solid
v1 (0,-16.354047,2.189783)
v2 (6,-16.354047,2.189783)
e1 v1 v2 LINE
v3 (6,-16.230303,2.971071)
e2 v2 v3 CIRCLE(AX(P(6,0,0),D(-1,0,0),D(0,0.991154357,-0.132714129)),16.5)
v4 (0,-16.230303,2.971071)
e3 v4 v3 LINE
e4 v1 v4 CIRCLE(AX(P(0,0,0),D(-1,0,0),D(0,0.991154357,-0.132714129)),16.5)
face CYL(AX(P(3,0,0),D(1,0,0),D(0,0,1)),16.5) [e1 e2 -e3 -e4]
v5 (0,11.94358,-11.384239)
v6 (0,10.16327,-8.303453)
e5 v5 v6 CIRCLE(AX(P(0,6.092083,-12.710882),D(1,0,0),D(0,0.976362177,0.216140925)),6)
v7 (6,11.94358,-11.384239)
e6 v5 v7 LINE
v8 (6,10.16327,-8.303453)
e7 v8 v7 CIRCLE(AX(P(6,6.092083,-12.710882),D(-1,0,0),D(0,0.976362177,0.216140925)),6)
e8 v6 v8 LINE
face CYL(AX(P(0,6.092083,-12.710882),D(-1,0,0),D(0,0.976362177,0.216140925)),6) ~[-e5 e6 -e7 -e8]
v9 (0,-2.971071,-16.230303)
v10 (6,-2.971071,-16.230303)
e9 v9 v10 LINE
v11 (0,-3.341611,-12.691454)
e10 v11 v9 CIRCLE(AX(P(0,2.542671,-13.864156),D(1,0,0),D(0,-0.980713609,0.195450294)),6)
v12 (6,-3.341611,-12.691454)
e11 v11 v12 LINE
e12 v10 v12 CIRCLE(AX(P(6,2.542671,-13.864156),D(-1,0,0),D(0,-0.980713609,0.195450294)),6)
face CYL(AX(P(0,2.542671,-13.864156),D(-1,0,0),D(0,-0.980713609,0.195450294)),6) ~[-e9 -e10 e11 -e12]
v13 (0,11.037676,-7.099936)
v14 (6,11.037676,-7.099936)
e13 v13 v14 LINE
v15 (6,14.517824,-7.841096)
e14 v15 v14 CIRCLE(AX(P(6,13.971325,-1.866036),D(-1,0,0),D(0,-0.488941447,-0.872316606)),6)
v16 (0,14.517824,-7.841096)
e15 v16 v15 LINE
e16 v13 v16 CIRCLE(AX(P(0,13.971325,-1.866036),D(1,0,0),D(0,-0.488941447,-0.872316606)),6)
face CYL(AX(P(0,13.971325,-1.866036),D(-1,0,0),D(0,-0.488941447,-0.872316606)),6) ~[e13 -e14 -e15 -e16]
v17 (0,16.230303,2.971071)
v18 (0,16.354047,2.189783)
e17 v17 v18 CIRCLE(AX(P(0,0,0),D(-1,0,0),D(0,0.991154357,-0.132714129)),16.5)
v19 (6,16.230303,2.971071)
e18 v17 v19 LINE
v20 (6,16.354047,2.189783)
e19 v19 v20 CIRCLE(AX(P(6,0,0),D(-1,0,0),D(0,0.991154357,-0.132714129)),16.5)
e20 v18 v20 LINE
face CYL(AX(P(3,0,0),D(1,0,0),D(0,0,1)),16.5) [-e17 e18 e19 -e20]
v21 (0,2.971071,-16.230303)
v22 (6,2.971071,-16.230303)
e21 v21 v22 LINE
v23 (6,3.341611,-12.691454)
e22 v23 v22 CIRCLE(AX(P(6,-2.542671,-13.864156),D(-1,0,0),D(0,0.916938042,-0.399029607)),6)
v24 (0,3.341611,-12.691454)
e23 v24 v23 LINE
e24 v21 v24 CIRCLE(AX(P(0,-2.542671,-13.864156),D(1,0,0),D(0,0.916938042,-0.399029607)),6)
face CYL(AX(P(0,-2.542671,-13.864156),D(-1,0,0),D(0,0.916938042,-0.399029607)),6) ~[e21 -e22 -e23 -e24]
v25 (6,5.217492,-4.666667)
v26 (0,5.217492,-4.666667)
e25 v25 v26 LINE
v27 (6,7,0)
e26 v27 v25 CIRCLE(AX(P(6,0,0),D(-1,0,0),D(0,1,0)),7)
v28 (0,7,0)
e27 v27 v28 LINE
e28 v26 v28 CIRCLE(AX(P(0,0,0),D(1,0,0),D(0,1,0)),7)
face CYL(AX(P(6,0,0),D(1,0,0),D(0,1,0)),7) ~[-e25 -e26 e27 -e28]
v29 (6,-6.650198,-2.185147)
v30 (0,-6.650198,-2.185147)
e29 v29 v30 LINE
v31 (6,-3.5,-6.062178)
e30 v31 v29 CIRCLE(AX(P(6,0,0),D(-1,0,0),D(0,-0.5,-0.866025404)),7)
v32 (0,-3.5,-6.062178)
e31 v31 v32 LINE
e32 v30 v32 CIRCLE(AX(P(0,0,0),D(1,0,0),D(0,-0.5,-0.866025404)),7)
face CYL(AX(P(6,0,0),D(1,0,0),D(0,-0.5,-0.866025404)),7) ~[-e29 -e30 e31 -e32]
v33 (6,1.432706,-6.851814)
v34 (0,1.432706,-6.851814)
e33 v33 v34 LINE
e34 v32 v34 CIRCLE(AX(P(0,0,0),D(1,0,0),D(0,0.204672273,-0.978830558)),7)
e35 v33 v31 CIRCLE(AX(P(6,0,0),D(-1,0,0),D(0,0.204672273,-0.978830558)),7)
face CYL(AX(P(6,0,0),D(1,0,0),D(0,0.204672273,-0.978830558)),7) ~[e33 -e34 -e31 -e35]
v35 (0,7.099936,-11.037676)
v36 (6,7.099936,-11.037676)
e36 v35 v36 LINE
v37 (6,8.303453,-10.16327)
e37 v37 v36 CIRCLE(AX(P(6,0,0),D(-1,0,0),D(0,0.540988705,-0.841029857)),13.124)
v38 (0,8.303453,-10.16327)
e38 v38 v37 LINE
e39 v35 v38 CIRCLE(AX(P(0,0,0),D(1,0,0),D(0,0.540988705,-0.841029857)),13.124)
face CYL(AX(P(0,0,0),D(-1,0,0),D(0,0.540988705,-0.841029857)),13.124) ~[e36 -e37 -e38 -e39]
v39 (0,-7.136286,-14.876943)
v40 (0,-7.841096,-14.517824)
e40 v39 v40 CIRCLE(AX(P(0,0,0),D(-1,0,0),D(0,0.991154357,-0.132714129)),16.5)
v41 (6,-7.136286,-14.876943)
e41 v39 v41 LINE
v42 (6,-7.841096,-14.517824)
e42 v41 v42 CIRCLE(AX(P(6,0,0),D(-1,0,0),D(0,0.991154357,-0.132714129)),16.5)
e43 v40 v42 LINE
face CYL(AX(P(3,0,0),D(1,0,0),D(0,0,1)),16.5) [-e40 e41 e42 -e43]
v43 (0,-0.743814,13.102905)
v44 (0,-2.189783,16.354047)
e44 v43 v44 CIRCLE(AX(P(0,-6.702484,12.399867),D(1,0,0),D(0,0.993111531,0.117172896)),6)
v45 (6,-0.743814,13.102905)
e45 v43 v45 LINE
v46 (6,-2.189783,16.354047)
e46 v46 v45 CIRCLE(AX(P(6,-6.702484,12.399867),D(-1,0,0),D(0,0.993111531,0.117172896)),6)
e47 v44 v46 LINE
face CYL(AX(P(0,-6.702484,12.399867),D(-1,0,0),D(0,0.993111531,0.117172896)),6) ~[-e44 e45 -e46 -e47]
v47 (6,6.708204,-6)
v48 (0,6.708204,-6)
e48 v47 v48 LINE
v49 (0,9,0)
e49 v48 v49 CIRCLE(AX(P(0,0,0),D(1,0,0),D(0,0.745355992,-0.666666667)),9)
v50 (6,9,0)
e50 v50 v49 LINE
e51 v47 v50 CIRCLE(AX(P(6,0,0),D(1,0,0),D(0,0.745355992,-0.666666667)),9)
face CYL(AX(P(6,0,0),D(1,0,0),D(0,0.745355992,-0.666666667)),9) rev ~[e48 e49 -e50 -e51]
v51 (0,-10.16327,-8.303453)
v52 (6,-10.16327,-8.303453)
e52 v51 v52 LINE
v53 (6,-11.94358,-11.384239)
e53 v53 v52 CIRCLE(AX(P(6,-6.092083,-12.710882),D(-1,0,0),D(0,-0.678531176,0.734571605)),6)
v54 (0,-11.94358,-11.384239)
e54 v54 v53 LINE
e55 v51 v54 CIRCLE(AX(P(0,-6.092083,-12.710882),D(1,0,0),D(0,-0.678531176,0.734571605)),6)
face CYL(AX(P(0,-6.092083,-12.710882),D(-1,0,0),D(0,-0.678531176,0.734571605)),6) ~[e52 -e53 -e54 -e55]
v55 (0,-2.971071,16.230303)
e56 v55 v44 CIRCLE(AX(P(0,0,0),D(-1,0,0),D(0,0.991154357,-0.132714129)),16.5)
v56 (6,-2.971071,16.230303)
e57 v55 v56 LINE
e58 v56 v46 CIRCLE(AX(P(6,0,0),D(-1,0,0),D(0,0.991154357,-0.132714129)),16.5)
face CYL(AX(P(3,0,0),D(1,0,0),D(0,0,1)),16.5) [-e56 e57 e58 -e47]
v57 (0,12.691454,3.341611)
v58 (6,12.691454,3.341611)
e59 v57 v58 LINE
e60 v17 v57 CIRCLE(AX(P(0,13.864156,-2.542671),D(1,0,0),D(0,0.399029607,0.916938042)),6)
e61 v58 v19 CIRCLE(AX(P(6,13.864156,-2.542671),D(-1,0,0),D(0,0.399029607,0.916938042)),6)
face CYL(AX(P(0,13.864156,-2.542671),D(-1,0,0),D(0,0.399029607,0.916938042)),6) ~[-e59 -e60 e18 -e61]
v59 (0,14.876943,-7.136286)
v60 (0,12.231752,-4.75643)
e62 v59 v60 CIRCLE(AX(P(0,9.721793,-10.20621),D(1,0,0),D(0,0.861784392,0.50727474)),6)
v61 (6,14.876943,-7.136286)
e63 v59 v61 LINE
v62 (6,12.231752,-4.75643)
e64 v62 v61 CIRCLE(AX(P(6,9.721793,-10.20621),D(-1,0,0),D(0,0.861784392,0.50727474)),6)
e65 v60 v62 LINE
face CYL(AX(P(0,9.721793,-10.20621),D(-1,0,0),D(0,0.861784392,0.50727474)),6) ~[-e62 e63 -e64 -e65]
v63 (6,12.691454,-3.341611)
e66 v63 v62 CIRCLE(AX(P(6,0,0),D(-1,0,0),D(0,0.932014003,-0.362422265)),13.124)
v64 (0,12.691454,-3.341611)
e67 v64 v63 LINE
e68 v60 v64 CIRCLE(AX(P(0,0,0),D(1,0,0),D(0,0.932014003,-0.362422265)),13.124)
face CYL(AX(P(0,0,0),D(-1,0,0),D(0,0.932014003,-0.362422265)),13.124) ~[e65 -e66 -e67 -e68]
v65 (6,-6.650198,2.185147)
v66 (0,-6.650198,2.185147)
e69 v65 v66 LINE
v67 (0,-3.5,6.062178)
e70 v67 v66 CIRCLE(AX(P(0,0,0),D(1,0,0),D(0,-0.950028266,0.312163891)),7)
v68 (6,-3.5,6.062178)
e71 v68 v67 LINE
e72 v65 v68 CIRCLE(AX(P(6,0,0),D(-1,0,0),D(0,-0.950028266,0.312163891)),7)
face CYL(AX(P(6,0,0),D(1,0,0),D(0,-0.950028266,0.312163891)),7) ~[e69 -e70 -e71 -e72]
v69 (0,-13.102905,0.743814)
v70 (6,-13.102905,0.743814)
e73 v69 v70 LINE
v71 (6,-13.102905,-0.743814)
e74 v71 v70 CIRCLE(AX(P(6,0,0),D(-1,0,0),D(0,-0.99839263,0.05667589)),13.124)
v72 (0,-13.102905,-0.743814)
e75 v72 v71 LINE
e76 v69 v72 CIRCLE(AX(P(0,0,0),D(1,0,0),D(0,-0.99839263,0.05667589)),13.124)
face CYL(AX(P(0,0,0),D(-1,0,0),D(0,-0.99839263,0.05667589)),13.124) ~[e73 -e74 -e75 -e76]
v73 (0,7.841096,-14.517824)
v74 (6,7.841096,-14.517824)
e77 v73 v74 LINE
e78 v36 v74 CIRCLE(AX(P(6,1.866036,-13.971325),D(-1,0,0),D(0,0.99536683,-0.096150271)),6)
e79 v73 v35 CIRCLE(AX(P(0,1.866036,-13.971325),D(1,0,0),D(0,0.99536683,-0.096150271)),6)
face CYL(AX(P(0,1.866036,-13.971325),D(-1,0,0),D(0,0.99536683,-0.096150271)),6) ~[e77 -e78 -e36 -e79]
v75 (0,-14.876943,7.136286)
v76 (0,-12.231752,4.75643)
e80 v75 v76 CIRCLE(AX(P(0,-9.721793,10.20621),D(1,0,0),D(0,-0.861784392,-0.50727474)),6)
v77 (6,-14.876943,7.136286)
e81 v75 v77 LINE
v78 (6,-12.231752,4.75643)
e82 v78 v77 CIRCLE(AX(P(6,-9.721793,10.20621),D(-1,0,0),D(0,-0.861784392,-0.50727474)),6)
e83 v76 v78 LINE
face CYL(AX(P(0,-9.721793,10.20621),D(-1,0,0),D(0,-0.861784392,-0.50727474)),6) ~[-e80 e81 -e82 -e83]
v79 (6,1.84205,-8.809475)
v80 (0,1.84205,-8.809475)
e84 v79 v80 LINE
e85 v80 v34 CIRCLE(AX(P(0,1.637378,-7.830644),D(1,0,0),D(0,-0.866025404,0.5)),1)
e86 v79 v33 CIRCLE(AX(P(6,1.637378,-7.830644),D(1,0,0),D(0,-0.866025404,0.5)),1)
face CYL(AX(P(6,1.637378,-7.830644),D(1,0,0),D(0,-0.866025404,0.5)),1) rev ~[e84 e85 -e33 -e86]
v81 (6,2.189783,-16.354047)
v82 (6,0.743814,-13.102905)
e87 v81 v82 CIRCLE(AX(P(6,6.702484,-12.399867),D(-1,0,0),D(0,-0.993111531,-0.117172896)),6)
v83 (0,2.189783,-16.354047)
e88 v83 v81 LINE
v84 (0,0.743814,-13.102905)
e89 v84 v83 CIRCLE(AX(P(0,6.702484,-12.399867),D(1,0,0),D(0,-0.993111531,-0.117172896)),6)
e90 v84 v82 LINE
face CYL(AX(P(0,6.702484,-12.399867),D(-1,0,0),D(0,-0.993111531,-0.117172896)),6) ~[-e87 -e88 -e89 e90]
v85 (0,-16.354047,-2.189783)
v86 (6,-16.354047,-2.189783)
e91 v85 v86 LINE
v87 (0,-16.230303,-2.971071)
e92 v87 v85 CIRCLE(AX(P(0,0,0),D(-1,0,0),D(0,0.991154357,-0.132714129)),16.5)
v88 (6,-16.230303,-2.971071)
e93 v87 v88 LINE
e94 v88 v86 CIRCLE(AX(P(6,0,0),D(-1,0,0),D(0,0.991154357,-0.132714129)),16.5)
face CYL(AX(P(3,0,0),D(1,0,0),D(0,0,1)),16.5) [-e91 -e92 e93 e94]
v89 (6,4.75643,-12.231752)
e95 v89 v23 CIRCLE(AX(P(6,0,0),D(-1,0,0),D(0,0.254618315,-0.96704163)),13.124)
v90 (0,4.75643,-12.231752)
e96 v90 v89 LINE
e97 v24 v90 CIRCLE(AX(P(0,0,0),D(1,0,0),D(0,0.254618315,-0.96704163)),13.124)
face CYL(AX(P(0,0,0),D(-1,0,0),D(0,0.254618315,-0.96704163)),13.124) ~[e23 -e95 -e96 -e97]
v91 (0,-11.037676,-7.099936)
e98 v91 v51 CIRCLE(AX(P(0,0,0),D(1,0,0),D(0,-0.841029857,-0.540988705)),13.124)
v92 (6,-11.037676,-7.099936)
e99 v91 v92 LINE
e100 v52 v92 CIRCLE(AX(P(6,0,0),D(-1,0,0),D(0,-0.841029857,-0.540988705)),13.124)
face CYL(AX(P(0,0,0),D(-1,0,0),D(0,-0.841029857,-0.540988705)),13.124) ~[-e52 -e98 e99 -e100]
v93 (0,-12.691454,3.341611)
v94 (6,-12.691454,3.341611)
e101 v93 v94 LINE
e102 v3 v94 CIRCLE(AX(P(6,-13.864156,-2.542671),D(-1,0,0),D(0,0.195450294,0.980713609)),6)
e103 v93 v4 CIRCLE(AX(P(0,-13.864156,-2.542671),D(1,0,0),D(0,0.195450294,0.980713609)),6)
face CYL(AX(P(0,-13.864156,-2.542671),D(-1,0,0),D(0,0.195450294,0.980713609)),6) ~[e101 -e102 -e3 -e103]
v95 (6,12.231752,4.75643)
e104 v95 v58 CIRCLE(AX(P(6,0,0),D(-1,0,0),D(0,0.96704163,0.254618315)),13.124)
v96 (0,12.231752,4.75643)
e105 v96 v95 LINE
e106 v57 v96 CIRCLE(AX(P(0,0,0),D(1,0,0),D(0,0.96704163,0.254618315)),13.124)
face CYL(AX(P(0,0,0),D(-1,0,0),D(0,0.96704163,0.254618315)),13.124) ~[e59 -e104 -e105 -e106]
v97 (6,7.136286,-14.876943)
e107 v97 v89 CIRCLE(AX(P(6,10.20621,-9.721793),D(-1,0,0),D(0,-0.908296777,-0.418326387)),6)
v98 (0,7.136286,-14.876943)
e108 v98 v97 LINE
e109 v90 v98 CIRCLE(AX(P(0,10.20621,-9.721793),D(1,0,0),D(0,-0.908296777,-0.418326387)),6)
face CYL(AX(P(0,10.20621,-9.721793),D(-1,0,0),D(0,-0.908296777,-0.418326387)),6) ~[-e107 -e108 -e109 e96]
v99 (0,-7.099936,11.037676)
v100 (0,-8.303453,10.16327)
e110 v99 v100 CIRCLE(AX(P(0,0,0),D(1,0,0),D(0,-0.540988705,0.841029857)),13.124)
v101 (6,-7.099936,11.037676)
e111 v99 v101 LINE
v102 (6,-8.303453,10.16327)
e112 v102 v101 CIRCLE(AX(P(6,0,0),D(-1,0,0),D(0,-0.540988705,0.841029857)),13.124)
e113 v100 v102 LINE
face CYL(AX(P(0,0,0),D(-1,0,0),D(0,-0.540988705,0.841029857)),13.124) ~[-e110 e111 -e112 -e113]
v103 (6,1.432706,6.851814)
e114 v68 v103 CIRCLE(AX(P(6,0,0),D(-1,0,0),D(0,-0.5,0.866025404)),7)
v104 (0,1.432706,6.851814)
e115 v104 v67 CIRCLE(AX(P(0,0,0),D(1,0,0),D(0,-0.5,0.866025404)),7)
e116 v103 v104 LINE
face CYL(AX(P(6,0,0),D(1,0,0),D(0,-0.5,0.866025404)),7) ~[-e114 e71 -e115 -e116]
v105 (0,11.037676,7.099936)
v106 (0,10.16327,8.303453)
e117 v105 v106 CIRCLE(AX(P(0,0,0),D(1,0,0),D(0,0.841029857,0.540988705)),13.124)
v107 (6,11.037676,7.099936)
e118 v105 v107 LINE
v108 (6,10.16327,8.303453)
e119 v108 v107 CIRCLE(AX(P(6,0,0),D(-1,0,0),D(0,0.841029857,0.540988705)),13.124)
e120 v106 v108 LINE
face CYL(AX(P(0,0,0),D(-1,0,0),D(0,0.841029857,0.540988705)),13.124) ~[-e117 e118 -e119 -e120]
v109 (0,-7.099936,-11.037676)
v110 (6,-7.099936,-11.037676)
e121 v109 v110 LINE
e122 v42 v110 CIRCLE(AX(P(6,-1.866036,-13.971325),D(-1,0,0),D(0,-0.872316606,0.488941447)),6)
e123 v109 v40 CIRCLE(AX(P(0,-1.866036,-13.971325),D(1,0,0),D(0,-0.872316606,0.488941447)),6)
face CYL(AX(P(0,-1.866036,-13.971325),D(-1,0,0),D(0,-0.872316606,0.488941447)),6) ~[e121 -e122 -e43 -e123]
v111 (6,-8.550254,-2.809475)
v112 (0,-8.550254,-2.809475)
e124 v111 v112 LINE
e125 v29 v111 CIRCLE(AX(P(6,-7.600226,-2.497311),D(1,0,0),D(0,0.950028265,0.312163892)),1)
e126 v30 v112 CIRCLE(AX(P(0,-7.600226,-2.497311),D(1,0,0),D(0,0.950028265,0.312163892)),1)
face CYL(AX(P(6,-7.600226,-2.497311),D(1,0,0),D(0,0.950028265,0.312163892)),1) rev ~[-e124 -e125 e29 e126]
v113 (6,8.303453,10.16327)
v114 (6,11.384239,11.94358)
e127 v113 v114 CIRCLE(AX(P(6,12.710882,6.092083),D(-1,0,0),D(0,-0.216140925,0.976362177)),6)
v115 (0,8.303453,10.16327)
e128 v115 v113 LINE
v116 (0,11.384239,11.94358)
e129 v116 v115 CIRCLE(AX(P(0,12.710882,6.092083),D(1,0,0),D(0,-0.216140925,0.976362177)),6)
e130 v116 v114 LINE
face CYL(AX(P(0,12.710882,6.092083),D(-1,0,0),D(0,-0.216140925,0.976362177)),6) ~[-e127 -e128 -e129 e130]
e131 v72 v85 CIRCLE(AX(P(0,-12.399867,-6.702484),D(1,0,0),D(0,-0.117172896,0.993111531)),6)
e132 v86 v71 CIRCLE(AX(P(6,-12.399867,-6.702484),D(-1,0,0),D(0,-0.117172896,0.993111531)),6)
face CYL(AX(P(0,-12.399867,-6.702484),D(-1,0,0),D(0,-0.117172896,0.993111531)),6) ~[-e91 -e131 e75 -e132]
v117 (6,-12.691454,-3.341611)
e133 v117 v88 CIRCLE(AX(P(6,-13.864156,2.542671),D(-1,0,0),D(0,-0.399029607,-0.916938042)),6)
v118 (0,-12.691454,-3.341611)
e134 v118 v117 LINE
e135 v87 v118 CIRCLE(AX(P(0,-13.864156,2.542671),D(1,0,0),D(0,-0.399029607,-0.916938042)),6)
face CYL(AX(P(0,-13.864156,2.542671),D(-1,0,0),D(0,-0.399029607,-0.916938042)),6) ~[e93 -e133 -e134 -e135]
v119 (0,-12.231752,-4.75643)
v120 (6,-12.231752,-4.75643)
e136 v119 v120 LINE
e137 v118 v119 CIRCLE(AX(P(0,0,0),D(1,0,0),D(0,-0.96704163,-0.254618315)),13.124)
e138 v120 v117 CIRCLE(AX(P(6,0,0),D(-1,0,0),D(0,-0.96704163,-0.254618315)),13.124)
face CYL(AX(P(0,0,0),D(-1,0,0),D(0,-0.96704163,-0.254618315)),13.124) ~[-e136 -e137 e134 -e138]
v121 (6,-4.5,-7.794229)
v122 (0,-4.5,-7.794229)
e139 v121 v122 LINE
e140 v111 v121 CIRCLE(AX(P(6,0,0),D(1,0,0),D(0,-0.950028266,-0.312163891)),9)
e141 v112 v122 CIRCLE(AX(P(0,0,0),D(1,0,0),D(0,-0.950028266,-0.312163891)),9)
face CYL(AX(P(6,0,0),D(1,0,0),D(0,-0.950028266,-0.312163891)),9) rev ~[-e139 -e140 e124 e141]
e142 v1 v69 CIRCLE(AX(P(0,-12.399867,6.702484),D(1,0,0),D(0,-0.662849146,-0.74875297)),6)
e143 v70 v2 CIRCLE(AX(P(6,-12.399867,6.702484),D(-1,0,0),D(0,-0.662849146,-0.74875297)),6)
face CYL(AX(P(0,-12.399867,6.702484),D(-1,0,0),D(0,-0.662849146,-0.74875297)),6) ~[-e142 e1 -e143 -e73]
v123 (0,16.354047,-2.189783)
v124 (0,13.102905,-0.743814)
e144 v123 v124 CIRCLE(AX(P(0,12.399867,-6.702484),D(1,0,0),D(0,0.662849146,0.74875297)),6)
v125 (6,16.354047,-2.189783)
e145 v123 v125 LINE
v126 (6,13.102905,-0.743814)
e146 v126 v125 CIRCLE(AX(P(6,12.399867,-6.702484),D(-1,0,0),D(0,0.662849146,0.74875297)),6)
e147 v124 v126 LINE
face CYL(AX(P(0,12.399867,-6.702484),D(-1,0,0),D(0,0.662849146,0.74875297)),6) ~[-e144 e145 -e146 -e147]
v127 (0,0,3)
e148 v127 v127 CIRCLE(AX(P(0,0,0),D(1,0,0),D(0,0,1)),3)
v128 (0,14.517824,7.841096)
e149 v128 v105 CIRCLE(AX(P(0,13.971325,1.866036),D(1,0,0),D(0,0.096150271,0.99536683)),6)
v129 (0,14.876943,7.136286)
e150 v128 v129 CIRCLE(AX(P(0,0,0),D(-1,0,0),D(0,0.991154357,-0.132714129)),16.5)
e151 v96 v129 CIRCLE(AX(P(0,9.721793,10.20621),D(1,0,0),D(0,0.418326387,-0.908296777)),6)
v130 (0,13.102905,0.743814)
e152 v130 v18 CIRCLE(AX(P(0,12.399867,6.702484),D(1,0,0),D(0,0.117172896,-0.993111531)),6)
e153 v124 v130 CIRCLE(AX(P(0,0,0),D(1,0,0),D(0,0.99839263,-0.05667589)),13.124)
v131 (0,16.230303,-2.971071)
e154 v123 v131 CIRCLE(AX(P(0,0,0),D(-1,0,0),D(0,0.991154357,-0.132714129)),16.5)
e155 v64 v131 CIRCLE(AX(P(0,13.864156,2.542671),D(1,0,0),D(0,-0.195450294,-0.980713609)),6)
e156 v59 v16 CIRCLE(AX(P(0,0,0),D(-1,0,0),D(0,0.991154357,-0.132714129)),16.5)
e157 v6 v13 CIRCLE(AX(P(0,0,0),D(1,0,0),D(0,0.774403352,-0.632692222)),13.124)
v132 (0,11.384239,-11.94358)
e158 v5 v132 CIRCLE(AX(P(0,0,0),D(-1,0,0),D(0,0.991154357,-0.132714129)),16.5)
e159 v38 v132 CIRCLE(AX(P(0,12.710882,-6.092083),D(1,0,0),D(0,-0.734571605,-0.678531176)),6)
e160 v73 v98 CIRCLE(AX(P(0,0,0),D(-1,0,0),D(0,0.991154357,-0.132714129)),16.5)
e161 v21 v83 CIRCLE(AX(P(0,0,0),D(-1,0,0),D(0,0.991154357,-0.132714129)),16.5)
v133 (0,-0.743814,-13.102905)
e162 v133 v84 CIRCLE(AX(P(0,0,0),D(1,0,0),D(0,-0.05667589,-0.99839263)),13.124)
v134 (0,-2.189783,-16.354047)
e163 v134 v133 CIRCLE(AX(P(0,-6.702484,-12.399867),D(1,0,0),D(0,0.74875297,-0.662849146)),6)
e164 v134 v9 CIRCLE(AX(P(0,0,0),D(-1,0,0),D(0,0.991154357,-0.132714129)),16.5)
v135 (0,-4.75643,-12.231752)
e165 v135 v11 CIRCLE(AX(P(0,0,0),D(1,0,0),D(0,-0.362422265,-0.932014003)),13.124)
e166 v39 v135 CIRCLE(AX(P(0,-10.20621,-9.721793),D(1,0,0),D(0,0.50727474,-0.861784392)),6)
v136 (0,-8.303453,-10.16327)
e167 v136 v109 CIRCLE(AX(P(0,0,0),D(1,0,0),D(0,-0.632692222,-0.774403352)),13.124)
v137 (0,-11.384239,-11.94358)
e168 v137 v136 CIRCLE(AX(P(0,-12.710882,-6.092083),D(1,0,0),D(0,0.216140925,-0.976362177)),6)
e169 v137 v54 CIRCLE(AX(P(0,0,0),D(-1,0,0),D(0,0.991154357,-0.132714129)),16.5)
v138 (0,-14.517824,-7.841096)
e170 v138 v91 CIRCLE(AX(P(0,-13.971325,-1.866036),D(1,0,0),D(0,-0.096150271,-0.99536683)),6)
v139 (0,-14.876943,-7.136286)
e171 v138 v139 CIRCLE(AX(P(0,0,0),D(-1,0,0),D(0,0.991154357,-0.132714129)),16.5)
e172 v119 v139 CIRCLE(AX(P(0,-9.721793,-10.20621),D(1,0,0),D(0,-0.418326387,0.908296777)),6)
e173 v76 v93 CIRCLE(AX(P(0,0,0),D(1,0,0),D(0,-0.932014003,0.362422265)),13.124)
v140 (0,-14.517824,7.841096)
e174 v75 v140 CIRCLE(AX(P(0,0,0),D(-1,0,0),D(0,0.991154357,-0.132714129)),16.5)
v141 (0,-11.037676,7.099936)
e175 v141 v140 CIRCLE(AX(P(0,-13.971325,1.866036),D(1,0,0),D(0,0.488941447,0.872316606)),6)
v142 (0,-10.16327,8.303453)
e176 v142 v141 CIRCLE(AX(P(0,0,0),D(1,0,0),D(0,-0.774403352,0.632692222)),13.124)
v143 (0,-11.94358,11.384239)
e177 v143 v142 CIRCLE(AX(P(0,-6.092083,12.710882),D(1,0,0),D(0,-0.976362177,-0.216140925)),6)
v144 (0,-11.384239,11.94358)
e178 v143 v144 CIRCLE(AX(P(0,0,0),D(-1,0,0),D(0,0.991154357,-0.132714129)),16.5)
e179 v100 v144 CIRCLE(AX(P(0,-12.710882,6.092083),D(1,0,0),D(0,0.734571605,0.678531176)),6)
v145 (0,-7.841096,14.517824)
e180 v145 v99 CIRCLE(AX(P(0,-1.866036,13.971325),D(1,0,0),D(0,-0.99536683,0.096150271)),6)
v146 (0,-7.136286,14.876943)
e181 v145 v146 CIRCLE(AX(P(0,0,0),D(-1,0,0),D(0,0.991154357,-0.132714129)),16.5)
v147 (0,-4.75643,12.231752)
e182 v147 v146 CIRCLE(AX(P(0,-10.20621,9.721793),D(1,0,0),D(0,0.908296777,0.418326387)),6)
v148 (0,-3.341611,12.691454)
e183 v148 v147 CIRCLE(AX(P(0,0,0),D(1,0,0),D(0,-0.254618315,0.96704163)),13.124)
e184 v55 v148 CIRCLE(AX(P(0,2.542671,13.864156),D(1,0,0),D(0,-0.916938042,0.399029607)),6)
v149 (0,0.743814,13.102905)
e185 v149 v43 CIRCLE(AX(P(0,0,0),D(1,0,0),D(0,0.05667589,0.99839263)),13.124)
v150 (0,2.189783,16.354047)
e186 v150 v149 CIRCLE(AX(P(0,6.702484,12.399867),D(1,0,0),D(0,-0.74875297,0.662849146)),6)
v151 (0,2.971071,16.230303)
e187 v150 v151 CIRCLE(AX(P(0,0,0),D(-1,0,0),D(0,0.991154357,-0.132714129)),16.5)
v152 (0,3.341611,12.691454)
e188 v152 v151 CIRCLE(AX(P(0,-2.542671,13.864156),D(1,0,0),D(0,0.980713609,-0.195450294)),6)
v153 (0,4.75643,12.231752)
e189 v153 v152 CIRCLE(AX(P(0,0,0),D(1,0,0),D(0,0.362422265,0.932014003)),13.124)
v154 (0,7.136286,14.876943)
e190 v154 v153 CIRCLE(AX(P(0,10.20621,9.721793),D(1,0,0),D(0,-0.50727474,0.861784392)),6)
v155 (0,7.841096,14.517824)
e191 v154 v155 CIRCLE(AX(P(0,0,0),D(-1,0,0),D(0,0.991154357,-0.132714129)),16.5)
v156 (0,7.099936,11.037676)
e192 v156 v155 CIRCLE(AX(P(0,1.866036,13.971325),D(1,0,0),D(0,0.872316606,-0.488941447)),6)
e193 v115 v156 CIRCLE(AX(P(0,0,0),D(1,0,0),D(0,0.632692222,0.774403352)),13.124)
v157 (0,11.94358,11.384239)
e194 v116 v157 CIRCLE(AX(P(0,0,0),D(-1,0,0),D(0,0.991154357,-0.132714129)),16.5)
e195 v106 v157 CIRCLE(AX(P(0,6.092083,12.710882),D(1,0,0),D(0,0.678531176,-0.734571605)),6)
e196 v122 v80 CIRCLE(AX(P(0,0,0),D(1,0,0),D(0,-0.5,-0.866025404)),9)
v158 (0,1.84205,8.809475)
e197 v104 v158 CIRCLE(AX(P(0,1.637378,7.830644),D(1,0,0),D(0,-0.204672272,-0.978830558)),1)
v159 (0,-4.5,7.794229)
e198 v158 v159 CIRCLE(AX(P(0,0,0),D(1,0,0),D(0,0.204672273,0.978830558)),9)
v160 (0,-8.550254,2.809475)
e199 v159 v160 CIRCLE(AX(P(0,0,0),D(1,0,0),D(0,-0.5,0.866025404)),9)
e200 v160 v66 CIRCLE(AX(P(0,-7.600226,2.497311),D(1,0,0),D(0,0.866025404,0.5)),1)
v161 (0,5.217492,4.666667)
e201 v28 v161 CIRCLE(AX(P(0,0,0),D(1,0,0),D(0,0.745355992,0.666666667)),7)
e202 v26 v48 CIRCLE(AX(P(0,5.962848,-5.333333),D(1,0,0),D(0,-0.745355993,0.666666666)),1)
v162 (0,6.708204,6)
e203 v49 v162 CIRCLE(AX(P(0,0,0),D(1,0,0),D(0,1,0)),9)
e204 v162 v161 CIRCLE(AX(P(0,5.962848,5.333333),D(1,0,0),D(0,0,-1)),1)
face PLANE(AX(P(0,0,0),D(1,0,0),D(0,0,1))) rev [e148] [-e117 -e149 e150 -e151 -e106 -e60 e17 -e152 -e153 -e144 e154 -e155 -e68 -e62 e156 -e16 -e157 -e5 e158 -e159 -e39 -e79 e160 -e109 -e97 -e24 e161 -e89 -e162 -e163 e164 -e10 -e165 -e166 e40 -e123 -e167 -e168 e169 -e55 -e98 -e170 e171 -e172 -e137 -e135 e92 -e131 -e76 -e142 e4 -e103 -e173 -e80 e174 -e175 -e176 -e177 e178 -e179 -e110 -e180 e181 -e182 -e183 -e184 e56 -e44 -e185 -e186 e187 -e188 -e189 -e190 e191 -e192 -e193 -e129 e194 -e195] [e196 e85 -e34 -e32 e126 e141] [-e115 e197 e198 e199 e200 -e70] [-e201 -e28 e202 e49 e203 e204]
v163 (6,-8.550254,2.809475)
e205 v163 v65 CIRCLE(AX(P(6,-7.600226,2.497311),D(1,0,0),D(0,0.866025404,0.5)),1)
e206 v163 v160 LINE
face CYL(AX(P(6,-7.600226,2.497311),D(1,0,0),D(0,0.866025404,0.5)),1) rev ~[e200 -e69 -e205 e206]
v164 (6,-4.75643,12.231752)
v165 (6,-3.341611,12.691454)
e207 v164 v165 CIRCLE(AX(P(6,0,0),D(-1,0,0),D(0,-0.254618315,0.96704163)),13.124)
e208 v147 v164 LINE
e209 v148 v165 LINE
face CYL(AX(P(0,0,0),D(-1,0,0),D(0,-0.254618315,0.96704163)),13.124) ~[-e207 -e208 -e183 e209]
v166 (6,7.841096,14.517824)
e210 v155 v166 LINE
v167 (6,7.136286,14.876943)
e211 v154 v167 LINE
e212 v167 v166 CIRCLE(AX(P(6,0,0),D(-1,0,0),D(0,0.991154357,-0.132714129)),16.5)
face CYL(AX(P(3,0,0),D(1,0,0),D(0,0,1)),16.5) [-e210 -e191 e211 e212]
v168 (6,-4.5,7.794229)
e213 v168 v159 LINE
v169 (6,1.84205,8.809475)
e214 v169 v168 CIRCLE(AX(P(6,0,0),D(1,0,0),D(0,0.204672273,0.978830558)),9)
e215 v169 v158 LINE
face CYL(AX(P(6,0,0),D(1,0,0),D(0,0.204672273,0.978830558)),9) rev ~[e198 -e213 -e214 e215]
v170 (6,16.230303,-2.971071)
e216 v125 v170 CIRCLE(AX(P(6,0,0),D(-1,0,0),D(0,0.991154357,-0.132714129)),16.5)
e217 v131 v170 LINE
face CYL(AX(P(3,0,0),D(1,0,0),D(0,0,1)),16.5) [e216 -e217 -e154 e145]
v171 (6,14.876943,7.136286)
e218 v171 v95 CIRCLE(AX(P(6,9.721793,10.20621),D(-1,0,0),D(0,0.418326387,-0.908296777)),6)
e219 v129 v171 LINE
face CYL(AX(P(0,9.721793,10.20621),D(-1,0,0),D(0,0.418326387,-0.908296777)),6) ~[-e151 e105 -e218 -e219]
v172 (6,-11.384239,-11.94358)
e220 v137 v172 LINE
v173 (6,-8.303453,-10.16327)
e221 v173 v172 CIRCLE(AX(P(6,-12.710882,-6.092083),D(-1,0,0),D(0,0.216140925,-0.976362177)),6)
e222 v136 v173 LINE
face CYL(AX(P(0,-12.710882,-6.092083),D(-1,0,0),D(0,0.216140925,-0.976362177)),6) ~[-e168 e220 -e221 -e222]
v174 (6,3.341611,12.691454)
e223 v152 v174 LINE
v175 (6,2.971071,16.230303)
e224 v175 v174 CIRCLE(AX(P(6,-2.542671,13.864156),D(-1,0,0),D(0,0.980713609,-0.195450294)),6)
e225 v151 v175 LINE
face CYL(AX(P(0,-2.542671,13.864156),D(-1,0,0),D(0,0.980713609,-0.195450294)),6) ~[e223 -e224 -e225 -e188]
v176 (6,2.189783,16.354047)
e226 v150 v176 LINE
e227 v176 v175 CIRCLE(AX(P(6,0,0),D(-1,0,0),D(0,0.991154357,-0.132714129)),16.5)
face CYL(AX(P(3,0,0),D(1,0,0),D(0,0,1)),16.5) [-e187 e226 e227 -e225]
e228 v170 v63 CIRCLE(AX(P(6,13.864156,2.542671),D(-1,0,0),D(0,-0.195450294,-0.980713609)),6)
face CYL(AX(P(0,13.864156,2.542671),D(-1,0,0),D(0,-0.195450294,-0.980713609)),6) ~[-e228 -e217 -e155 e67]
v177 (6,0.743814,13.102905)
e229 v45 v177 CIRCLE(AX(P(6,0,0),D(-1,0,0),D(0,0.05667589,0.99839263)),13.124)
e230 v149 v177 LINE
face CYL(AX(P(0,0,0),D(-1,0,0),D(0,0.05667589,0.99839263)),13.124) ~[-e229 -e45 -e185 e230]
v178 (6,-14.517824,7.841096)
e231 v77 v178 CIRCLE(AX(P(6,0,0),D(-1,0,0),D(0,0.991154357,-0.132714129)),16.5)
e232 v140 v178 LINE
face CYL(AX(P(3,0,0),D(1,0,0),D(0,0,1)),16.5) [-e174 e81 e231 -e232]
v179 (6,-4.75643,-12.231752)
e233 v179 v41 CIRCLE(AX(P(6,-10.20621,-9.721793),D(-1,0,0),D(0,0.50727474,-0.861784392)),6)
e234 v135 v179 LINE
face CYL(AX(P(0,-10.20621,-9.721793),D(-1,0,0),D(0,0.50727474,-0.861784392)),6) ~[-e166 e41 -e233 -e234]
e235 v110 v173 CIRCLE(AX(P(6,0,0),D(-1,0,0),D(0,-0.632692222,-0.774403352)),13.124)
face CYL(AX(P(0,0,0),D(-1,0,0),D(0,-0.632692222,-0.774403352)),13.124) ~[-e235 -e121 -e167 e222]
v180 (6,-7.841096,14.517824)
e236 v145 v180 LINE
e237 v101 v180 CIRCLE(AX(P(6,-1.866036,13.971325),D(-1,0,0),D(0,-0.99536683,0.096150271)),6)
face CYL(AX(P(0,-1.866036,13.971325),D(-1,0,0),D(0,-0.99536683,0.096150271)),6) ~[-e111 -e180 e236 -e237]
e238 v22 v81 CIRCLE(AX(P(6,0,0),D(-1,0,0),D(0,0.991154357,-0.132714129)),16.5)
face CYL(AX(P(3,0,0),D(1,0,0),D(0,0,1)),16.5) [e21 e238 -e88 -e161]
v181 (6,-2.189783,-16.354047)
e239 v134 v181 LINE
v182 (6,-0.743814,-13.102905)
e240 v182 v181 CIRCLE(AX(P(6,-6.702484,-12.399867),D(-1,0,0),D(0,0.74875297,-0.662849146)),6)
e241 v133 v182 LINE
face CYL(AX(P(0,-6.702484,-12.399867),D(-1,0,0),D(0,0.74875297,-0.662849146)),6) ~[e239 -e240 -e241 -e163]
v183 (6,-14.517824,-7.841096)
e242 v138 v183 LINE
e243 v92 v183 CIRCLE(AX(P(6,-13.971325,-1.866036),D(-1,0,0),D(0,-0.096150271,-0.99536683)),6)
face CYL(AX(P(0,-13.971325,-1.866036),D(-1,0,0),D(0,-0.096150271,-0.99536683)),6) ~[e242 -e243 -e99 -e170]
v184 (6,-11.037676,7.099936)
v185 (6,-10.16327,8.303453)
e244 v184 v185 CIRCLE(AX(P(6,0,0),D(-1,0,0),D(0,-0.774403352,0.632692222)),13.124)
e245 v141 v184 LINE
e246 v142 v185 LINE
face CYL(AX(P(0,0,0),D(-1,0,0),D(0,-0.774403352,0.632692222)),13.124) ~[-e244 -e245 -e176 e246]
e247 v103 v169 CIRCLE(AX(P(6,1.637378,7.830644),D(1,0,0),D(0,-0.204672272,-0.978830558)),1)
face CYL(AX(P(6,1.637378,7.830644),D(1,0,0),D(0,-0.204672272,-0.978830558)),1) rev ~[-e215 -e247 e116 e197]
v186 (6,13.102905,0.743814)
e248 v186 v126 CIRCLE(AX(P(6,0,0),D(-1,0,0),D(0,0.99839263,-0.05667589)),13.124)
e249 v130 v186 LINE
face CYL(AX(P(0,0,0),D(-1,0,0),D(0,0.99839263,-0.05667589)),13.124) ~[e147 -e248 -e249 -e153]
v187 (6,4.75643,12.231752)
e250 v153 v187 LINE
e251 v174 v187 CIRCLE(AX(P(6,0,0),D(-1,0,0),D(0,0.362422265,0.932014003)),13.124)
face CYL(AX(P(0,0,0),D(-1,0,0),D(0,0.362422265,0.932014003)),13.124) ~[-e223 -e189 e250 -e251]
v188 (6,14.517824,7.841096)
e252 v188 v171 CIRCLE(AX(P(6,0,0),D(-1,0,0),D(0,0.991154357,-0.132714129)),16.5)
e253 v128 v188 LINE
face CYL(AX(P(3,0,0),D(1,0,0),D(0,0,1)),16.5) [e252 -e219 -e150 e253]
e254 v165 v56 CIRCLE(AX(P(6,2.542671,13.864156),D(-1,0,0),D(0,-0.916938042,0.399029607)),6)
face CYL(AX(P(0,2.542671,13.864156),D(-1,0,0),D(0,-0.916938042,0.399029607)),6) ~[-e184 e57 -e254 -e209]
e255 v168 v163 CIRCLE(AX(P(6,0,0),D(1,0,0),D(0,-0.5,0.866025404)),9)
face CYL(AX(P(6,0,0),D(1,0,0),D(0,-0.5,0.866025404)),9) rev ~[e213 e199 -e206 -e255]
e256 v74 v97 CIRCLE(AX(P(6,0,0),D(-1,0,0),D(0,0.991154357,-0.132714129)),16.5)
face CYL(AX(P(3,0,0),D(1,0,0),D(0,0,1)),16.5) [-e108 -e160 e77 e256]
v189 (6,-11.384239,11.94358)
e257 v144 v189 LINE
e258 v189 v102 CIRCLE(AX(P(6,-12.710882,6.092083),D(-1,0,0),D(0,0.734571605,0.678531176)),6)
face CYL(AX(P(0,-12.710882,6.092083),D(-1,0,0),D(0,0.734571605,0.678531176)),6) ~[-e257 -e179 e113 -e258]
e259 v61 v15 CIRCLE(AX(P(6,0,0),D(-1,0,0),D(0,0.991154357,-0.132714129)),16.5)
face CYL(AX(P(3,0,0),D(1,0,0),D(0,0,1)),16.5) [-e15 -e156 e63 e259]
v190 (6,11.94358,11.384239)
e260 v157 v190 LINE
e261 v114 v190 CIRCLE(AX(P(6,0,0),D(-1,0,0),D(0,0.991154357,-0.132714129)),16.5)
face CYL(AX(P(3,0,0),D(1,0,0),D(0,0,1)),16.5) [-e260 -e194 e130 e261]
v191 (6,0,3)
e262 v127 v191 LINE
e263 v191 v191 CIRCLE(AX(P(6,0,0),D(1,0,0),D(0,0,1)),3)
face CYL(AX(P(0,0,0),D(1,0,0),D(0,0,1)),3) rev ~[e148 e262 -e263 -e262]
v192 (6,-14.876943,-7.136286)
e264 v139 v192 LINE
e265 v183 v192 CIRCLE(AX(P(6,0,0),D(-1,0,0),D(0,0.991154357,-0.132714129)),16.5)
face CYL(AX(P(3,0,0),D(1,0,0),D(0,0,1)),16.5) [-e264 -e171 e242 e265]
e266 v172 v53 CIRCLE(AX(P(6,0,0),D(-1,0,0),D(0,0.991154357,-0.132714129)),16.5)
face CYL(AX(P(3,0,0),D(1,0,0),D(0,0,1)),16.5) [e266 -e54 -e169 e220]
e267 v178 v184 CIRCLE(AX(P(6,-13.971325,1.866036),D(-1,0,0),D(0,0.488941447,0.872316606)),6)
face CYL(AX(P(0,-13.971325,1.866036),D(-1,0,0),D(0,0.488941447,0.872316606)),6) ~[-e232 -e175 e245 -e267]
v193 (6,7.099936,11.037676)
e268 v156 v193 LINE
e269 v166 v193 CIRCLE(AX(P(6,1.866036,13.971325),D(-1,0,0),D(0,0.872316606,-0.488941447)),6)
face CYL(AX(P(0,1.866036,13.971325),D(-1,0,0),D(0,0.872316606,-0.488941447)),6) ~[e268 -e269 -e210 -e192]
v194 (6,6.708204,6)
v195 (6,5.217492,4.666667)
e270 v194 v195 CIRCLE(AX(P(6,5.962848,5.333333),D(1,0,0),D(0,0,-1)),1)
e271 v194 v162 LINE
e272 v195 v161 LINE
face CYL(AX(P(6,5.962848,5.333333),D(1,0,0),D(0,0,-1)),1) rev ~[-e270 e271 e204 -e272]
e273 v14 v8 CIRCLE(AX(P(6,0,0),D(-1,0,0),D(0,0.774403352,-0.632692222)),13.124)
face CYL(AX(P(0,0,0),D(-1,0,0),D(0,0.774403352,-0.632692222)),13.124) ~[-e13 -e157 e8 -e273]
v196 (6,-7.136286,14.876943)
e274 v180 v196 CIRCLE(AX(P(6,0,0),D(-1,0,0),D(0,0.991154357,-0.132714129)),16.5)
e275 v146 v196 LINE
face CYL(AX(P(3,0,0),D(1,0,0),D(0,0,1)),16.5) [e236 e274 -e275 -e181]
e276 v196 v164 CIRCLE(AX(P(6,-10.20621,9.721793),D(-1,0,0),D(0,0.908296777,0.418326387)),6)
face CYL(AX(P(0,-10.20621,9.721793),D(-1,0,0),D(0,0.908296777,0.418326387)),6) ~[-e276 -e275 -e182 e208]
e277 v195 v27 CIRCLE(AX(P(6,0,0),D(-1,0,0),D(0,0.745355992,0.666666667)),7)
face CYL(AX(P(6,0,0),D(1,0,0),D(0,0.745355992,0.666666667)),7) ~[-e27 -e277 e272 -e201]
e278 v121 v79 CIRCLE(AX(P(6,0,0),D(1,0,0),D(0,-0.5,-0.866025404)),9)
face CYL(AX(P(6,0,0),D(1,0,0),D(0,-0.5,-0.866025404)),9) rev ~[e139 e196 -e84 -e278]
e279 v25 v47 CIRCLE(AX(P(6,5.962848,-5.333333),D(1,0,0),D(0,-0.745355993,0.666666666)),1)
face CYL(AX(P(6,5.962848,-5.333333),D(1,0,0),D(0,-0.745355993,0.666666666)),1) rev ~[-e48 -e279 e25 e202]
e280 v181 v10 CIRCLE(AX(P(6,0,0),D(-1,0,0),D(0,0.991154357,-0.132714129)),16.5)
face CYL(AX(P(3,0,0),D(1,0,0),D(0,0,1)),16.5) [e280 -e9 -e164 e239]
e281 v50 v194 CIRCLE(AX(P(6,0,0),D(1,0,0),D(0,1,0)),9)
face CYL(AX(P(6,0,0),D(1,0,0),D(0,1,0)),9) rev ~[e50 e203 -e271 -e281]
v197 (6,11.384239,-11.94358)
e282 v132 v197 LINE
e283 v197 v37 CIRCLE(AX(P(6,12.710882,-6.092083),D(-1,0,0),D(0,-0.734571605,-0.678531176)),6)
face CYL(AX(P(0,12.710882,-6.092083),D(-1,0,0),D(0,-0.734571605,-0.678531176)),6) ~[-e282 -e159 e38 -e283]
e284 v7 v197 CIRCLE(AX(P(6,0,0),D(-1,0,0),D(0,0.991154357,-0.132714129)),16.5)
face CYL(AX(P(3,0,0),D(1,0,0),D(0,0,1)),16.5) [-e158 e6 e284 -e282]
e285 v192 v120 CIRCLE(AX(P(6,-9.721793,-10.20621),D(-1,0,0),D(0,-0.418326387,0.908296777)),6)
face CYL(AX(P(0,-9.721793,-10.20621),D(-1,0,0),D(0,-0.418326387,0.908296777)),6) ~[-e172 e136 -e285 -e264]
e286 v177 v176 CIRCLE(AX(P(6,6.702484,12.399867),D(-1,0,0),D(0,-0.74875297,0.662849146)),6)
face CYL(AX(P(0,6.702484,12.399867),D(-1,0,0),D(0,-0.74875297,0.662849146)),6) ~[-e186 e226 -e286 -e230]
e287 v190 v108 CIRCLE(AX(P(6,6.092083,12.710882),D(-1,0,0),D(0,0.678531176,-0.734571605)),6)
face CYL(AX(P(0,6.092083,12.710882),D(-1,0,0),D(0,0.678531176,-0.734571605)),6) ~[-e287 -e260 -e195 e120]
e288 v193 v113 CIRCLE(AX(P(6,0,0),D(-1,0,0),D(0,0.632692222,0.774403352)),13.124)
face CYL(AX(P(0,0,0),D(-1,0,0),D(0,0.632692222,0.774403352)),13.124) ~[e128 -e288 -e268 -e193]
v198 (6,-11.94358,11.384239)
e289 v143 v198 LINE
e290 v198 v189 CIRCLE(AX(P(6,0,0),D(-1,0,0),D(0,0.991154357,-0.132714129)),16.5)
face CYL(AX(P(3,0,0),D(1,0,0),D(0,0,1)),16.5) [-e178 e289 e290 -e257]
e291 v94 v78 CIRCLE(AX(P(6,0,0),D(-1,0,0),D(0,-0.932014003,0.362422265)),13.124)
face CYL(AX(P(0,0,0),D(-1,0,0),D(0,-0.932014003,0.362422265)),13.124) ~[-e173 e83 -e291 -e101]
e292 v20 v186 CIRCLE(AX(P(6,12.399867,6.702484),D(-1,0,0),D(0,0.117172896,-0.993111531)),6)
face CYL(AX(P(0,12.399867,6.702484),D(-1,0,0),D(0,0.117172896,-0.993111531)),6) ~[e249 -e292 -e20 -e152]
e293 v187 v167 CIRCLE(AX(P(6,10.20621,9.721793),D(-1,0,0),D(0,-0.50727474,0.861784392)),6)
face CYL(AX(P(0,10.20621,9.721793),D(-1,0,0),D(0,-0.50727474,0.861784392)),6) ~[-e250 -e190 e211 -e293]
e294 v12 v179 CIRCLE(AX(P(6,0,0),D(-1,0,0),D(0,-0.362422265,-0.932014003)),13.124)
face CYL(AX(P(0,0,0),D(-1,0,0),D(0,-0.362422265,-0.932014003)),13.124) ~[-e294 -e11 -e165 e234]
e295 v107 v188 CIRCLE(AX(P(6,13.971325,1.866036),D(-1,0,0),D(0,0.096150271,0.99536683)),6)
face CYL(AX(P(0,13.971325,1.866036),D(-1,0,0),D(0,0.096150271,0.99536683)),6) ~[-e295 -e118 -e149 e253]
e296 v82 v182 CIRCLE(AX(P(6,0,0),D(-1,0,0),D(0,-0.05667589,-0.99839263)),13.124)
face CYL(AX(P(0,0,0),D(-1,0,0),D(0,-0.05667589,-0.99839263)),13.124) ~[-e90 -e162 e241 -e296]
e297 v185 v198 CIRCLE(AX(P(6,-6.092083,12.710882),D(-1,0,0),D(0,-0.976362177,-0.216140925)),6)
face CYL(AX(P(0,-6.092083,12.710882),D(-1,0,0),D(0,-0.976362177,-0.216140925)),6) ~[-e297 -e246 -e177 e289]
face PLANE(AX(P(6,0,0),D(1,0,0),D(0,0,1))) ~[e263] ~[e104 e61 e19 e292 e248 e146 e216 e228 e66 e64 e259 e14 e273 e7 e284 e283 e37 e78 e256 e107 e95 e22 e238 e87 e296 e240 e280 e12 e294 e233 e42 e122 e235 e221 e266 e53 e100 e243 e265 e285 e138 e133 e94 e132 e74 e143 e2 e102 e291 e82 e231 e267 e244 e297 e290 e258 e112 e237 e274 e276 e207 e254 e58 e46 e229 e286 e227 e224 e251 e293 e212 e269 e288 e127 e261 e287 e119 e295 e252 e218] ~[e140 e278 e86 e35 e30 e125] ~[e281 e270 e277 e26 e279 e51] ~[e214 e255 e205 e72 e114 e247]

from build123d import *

# Parameters (mm, degrees)
BASPROSKE_W        = 6
BASPROSKE_H        = 16.5
TOOTHCUT_DEPTH     = 25.093567606
TEETHCUTS_COUNT    = 20
TEETHCUTS_ANGLE    = 342
BORSKE_R           = 3
BORE_DEPTH         = 50.0000508
SKETCH1_R          = 1
CUT_EXTRUDE1_DEPTH = 10
CIRPATTERN1_COUNT  = 3


with BuildPart() as part:
    # BasProSke → Base-Revolve (revolve)
    with BuildSketch(Plane(origin=(0, 0, 0), x_dir=(1, 0, 0), z_dir=(0, 1, 0)), mode=Mode.PRIVATE) as base_revolve_sk:
        with Locations((3, 8.25)):
            Rectangle(BASPROSKE_W, BASPROSKE_H)
    revolve(base_revolve_sk.sketch.rotate(Axis((-10, 0, 0), (1, 0, 0)), 180), axis=Axis((-10, 0, 0), (1, 0, 0)))

    # TooCutSke → ToothCut (cut, through all)
    with BuildSketch(Plane(origin=(0, 0, 0), x_dir=(0, 0, -1), z_dir=(1, 0, 0))):
        with BuildLine():
            ThreePointArc((0.74381438, 13.102904875), (0, 13.124), (-0.74381438, 13.102904875))
            ThreePointArc((-0.74381438, 13.102904875), (-1.226473103, 14.852072512), (-2.209965745, 16.376962373))
            ThreePointArc((-2.209965745, 16.376962373), (0, 16.5254), (2.209965745, 16.376962373))
            ThreePointArc((2.209965745, 16.376962373), (1.226473103, 14.852072512), (0.74381438, 13.102904875))
        make_face()
    toothcut = extrude(amount=TOOTHCUT_DEPTH, mode=Mode.SUBTRACT)

    # TeethCuts: ToothCut ×20 about axis
    teethcuts_axis = Axis((-10, 0, 0), (1, 0, 0))
    for i in range(1, TEETHCUTS_COUNT):
        add(toothcut.rotate(teethcuts_axis, i * TEETHCUTS_ANGLE / (TEETHCUTS_COUNT - 1)), mode=Mode.SUBTRACT)

    # BorSke → Bore (cut, symmetric)
    with BuildSketch(Plane(origin=(0, 0, 0), x_dir=(0, 0, -1), z_dir=(1, 0, 0))):
        with Locations(Location((0, 0, 0), (0, 0, 180))):
            Circle(BORSKE_R)
    extrude(amount=BORE_DEPTH, both=True, mode=Mode.SUBTRACT)

    # Sketch1 → Cut-Extrude1 (cut)
    with BuildSketch(Plane(origin=(6, 0, 0), x_dir=(0, 0, -1), z_dir=(1, 0, 0))):
        with BuildLine():
            ThreePointArc((6, 6.708203932), (3.211398808, 8.407551231), (0, 9))
            ThreePointArc((0, 9), (-3.211398808, 8.407551231), (-6, 6.708203932))
            ThreePointArc((-6, 6.708203932), (-4.925085043, 6.875718869), (-4.333333333, 5.96284794))
            ThreePointArc((-4.333333333, 5.96284794), (-4.420462404, 5.55459965), (-4.666666667, 5.217491947))
            ThreePointArc((-4.666666667, 5.217491947), (-2.497754628, 6.539206513), (0, 7))
            ThreePointArc((0, 7), (2.497754628, 6.539206513), (4.666666667, 5.217491947))
            ThreePointArc((4.666666667, 5.217491947), (4.587977341, 6.629514607), (6, 6.708203932))
        make_face()
        with Locations((-5.333333333, 5.96284794)):
            Circle(SKETCH1_R)
        with Locations((5.333333333, 5.96284794)):
            Circle(SKETCH1_R)
    cut_extrude1 = extrude(amount=-CUT_EXTRUDE1_DEPTH, mode=Mode.SUBTRACT)

    # CirPattern1: Cut-Extrude1 ×3 about axis
    cirpattern1_axis = Axis((0, 0, 0), (1, 0, 0))
    for i in range(1, CIRPATTERN1_COUNT):
        add(cut_extrude1.rotate(cirpattern1_axis, i * 360 / CIRPATTERN1_COUNT), mode=Mode.SUBTRACT)


solid = part.part
